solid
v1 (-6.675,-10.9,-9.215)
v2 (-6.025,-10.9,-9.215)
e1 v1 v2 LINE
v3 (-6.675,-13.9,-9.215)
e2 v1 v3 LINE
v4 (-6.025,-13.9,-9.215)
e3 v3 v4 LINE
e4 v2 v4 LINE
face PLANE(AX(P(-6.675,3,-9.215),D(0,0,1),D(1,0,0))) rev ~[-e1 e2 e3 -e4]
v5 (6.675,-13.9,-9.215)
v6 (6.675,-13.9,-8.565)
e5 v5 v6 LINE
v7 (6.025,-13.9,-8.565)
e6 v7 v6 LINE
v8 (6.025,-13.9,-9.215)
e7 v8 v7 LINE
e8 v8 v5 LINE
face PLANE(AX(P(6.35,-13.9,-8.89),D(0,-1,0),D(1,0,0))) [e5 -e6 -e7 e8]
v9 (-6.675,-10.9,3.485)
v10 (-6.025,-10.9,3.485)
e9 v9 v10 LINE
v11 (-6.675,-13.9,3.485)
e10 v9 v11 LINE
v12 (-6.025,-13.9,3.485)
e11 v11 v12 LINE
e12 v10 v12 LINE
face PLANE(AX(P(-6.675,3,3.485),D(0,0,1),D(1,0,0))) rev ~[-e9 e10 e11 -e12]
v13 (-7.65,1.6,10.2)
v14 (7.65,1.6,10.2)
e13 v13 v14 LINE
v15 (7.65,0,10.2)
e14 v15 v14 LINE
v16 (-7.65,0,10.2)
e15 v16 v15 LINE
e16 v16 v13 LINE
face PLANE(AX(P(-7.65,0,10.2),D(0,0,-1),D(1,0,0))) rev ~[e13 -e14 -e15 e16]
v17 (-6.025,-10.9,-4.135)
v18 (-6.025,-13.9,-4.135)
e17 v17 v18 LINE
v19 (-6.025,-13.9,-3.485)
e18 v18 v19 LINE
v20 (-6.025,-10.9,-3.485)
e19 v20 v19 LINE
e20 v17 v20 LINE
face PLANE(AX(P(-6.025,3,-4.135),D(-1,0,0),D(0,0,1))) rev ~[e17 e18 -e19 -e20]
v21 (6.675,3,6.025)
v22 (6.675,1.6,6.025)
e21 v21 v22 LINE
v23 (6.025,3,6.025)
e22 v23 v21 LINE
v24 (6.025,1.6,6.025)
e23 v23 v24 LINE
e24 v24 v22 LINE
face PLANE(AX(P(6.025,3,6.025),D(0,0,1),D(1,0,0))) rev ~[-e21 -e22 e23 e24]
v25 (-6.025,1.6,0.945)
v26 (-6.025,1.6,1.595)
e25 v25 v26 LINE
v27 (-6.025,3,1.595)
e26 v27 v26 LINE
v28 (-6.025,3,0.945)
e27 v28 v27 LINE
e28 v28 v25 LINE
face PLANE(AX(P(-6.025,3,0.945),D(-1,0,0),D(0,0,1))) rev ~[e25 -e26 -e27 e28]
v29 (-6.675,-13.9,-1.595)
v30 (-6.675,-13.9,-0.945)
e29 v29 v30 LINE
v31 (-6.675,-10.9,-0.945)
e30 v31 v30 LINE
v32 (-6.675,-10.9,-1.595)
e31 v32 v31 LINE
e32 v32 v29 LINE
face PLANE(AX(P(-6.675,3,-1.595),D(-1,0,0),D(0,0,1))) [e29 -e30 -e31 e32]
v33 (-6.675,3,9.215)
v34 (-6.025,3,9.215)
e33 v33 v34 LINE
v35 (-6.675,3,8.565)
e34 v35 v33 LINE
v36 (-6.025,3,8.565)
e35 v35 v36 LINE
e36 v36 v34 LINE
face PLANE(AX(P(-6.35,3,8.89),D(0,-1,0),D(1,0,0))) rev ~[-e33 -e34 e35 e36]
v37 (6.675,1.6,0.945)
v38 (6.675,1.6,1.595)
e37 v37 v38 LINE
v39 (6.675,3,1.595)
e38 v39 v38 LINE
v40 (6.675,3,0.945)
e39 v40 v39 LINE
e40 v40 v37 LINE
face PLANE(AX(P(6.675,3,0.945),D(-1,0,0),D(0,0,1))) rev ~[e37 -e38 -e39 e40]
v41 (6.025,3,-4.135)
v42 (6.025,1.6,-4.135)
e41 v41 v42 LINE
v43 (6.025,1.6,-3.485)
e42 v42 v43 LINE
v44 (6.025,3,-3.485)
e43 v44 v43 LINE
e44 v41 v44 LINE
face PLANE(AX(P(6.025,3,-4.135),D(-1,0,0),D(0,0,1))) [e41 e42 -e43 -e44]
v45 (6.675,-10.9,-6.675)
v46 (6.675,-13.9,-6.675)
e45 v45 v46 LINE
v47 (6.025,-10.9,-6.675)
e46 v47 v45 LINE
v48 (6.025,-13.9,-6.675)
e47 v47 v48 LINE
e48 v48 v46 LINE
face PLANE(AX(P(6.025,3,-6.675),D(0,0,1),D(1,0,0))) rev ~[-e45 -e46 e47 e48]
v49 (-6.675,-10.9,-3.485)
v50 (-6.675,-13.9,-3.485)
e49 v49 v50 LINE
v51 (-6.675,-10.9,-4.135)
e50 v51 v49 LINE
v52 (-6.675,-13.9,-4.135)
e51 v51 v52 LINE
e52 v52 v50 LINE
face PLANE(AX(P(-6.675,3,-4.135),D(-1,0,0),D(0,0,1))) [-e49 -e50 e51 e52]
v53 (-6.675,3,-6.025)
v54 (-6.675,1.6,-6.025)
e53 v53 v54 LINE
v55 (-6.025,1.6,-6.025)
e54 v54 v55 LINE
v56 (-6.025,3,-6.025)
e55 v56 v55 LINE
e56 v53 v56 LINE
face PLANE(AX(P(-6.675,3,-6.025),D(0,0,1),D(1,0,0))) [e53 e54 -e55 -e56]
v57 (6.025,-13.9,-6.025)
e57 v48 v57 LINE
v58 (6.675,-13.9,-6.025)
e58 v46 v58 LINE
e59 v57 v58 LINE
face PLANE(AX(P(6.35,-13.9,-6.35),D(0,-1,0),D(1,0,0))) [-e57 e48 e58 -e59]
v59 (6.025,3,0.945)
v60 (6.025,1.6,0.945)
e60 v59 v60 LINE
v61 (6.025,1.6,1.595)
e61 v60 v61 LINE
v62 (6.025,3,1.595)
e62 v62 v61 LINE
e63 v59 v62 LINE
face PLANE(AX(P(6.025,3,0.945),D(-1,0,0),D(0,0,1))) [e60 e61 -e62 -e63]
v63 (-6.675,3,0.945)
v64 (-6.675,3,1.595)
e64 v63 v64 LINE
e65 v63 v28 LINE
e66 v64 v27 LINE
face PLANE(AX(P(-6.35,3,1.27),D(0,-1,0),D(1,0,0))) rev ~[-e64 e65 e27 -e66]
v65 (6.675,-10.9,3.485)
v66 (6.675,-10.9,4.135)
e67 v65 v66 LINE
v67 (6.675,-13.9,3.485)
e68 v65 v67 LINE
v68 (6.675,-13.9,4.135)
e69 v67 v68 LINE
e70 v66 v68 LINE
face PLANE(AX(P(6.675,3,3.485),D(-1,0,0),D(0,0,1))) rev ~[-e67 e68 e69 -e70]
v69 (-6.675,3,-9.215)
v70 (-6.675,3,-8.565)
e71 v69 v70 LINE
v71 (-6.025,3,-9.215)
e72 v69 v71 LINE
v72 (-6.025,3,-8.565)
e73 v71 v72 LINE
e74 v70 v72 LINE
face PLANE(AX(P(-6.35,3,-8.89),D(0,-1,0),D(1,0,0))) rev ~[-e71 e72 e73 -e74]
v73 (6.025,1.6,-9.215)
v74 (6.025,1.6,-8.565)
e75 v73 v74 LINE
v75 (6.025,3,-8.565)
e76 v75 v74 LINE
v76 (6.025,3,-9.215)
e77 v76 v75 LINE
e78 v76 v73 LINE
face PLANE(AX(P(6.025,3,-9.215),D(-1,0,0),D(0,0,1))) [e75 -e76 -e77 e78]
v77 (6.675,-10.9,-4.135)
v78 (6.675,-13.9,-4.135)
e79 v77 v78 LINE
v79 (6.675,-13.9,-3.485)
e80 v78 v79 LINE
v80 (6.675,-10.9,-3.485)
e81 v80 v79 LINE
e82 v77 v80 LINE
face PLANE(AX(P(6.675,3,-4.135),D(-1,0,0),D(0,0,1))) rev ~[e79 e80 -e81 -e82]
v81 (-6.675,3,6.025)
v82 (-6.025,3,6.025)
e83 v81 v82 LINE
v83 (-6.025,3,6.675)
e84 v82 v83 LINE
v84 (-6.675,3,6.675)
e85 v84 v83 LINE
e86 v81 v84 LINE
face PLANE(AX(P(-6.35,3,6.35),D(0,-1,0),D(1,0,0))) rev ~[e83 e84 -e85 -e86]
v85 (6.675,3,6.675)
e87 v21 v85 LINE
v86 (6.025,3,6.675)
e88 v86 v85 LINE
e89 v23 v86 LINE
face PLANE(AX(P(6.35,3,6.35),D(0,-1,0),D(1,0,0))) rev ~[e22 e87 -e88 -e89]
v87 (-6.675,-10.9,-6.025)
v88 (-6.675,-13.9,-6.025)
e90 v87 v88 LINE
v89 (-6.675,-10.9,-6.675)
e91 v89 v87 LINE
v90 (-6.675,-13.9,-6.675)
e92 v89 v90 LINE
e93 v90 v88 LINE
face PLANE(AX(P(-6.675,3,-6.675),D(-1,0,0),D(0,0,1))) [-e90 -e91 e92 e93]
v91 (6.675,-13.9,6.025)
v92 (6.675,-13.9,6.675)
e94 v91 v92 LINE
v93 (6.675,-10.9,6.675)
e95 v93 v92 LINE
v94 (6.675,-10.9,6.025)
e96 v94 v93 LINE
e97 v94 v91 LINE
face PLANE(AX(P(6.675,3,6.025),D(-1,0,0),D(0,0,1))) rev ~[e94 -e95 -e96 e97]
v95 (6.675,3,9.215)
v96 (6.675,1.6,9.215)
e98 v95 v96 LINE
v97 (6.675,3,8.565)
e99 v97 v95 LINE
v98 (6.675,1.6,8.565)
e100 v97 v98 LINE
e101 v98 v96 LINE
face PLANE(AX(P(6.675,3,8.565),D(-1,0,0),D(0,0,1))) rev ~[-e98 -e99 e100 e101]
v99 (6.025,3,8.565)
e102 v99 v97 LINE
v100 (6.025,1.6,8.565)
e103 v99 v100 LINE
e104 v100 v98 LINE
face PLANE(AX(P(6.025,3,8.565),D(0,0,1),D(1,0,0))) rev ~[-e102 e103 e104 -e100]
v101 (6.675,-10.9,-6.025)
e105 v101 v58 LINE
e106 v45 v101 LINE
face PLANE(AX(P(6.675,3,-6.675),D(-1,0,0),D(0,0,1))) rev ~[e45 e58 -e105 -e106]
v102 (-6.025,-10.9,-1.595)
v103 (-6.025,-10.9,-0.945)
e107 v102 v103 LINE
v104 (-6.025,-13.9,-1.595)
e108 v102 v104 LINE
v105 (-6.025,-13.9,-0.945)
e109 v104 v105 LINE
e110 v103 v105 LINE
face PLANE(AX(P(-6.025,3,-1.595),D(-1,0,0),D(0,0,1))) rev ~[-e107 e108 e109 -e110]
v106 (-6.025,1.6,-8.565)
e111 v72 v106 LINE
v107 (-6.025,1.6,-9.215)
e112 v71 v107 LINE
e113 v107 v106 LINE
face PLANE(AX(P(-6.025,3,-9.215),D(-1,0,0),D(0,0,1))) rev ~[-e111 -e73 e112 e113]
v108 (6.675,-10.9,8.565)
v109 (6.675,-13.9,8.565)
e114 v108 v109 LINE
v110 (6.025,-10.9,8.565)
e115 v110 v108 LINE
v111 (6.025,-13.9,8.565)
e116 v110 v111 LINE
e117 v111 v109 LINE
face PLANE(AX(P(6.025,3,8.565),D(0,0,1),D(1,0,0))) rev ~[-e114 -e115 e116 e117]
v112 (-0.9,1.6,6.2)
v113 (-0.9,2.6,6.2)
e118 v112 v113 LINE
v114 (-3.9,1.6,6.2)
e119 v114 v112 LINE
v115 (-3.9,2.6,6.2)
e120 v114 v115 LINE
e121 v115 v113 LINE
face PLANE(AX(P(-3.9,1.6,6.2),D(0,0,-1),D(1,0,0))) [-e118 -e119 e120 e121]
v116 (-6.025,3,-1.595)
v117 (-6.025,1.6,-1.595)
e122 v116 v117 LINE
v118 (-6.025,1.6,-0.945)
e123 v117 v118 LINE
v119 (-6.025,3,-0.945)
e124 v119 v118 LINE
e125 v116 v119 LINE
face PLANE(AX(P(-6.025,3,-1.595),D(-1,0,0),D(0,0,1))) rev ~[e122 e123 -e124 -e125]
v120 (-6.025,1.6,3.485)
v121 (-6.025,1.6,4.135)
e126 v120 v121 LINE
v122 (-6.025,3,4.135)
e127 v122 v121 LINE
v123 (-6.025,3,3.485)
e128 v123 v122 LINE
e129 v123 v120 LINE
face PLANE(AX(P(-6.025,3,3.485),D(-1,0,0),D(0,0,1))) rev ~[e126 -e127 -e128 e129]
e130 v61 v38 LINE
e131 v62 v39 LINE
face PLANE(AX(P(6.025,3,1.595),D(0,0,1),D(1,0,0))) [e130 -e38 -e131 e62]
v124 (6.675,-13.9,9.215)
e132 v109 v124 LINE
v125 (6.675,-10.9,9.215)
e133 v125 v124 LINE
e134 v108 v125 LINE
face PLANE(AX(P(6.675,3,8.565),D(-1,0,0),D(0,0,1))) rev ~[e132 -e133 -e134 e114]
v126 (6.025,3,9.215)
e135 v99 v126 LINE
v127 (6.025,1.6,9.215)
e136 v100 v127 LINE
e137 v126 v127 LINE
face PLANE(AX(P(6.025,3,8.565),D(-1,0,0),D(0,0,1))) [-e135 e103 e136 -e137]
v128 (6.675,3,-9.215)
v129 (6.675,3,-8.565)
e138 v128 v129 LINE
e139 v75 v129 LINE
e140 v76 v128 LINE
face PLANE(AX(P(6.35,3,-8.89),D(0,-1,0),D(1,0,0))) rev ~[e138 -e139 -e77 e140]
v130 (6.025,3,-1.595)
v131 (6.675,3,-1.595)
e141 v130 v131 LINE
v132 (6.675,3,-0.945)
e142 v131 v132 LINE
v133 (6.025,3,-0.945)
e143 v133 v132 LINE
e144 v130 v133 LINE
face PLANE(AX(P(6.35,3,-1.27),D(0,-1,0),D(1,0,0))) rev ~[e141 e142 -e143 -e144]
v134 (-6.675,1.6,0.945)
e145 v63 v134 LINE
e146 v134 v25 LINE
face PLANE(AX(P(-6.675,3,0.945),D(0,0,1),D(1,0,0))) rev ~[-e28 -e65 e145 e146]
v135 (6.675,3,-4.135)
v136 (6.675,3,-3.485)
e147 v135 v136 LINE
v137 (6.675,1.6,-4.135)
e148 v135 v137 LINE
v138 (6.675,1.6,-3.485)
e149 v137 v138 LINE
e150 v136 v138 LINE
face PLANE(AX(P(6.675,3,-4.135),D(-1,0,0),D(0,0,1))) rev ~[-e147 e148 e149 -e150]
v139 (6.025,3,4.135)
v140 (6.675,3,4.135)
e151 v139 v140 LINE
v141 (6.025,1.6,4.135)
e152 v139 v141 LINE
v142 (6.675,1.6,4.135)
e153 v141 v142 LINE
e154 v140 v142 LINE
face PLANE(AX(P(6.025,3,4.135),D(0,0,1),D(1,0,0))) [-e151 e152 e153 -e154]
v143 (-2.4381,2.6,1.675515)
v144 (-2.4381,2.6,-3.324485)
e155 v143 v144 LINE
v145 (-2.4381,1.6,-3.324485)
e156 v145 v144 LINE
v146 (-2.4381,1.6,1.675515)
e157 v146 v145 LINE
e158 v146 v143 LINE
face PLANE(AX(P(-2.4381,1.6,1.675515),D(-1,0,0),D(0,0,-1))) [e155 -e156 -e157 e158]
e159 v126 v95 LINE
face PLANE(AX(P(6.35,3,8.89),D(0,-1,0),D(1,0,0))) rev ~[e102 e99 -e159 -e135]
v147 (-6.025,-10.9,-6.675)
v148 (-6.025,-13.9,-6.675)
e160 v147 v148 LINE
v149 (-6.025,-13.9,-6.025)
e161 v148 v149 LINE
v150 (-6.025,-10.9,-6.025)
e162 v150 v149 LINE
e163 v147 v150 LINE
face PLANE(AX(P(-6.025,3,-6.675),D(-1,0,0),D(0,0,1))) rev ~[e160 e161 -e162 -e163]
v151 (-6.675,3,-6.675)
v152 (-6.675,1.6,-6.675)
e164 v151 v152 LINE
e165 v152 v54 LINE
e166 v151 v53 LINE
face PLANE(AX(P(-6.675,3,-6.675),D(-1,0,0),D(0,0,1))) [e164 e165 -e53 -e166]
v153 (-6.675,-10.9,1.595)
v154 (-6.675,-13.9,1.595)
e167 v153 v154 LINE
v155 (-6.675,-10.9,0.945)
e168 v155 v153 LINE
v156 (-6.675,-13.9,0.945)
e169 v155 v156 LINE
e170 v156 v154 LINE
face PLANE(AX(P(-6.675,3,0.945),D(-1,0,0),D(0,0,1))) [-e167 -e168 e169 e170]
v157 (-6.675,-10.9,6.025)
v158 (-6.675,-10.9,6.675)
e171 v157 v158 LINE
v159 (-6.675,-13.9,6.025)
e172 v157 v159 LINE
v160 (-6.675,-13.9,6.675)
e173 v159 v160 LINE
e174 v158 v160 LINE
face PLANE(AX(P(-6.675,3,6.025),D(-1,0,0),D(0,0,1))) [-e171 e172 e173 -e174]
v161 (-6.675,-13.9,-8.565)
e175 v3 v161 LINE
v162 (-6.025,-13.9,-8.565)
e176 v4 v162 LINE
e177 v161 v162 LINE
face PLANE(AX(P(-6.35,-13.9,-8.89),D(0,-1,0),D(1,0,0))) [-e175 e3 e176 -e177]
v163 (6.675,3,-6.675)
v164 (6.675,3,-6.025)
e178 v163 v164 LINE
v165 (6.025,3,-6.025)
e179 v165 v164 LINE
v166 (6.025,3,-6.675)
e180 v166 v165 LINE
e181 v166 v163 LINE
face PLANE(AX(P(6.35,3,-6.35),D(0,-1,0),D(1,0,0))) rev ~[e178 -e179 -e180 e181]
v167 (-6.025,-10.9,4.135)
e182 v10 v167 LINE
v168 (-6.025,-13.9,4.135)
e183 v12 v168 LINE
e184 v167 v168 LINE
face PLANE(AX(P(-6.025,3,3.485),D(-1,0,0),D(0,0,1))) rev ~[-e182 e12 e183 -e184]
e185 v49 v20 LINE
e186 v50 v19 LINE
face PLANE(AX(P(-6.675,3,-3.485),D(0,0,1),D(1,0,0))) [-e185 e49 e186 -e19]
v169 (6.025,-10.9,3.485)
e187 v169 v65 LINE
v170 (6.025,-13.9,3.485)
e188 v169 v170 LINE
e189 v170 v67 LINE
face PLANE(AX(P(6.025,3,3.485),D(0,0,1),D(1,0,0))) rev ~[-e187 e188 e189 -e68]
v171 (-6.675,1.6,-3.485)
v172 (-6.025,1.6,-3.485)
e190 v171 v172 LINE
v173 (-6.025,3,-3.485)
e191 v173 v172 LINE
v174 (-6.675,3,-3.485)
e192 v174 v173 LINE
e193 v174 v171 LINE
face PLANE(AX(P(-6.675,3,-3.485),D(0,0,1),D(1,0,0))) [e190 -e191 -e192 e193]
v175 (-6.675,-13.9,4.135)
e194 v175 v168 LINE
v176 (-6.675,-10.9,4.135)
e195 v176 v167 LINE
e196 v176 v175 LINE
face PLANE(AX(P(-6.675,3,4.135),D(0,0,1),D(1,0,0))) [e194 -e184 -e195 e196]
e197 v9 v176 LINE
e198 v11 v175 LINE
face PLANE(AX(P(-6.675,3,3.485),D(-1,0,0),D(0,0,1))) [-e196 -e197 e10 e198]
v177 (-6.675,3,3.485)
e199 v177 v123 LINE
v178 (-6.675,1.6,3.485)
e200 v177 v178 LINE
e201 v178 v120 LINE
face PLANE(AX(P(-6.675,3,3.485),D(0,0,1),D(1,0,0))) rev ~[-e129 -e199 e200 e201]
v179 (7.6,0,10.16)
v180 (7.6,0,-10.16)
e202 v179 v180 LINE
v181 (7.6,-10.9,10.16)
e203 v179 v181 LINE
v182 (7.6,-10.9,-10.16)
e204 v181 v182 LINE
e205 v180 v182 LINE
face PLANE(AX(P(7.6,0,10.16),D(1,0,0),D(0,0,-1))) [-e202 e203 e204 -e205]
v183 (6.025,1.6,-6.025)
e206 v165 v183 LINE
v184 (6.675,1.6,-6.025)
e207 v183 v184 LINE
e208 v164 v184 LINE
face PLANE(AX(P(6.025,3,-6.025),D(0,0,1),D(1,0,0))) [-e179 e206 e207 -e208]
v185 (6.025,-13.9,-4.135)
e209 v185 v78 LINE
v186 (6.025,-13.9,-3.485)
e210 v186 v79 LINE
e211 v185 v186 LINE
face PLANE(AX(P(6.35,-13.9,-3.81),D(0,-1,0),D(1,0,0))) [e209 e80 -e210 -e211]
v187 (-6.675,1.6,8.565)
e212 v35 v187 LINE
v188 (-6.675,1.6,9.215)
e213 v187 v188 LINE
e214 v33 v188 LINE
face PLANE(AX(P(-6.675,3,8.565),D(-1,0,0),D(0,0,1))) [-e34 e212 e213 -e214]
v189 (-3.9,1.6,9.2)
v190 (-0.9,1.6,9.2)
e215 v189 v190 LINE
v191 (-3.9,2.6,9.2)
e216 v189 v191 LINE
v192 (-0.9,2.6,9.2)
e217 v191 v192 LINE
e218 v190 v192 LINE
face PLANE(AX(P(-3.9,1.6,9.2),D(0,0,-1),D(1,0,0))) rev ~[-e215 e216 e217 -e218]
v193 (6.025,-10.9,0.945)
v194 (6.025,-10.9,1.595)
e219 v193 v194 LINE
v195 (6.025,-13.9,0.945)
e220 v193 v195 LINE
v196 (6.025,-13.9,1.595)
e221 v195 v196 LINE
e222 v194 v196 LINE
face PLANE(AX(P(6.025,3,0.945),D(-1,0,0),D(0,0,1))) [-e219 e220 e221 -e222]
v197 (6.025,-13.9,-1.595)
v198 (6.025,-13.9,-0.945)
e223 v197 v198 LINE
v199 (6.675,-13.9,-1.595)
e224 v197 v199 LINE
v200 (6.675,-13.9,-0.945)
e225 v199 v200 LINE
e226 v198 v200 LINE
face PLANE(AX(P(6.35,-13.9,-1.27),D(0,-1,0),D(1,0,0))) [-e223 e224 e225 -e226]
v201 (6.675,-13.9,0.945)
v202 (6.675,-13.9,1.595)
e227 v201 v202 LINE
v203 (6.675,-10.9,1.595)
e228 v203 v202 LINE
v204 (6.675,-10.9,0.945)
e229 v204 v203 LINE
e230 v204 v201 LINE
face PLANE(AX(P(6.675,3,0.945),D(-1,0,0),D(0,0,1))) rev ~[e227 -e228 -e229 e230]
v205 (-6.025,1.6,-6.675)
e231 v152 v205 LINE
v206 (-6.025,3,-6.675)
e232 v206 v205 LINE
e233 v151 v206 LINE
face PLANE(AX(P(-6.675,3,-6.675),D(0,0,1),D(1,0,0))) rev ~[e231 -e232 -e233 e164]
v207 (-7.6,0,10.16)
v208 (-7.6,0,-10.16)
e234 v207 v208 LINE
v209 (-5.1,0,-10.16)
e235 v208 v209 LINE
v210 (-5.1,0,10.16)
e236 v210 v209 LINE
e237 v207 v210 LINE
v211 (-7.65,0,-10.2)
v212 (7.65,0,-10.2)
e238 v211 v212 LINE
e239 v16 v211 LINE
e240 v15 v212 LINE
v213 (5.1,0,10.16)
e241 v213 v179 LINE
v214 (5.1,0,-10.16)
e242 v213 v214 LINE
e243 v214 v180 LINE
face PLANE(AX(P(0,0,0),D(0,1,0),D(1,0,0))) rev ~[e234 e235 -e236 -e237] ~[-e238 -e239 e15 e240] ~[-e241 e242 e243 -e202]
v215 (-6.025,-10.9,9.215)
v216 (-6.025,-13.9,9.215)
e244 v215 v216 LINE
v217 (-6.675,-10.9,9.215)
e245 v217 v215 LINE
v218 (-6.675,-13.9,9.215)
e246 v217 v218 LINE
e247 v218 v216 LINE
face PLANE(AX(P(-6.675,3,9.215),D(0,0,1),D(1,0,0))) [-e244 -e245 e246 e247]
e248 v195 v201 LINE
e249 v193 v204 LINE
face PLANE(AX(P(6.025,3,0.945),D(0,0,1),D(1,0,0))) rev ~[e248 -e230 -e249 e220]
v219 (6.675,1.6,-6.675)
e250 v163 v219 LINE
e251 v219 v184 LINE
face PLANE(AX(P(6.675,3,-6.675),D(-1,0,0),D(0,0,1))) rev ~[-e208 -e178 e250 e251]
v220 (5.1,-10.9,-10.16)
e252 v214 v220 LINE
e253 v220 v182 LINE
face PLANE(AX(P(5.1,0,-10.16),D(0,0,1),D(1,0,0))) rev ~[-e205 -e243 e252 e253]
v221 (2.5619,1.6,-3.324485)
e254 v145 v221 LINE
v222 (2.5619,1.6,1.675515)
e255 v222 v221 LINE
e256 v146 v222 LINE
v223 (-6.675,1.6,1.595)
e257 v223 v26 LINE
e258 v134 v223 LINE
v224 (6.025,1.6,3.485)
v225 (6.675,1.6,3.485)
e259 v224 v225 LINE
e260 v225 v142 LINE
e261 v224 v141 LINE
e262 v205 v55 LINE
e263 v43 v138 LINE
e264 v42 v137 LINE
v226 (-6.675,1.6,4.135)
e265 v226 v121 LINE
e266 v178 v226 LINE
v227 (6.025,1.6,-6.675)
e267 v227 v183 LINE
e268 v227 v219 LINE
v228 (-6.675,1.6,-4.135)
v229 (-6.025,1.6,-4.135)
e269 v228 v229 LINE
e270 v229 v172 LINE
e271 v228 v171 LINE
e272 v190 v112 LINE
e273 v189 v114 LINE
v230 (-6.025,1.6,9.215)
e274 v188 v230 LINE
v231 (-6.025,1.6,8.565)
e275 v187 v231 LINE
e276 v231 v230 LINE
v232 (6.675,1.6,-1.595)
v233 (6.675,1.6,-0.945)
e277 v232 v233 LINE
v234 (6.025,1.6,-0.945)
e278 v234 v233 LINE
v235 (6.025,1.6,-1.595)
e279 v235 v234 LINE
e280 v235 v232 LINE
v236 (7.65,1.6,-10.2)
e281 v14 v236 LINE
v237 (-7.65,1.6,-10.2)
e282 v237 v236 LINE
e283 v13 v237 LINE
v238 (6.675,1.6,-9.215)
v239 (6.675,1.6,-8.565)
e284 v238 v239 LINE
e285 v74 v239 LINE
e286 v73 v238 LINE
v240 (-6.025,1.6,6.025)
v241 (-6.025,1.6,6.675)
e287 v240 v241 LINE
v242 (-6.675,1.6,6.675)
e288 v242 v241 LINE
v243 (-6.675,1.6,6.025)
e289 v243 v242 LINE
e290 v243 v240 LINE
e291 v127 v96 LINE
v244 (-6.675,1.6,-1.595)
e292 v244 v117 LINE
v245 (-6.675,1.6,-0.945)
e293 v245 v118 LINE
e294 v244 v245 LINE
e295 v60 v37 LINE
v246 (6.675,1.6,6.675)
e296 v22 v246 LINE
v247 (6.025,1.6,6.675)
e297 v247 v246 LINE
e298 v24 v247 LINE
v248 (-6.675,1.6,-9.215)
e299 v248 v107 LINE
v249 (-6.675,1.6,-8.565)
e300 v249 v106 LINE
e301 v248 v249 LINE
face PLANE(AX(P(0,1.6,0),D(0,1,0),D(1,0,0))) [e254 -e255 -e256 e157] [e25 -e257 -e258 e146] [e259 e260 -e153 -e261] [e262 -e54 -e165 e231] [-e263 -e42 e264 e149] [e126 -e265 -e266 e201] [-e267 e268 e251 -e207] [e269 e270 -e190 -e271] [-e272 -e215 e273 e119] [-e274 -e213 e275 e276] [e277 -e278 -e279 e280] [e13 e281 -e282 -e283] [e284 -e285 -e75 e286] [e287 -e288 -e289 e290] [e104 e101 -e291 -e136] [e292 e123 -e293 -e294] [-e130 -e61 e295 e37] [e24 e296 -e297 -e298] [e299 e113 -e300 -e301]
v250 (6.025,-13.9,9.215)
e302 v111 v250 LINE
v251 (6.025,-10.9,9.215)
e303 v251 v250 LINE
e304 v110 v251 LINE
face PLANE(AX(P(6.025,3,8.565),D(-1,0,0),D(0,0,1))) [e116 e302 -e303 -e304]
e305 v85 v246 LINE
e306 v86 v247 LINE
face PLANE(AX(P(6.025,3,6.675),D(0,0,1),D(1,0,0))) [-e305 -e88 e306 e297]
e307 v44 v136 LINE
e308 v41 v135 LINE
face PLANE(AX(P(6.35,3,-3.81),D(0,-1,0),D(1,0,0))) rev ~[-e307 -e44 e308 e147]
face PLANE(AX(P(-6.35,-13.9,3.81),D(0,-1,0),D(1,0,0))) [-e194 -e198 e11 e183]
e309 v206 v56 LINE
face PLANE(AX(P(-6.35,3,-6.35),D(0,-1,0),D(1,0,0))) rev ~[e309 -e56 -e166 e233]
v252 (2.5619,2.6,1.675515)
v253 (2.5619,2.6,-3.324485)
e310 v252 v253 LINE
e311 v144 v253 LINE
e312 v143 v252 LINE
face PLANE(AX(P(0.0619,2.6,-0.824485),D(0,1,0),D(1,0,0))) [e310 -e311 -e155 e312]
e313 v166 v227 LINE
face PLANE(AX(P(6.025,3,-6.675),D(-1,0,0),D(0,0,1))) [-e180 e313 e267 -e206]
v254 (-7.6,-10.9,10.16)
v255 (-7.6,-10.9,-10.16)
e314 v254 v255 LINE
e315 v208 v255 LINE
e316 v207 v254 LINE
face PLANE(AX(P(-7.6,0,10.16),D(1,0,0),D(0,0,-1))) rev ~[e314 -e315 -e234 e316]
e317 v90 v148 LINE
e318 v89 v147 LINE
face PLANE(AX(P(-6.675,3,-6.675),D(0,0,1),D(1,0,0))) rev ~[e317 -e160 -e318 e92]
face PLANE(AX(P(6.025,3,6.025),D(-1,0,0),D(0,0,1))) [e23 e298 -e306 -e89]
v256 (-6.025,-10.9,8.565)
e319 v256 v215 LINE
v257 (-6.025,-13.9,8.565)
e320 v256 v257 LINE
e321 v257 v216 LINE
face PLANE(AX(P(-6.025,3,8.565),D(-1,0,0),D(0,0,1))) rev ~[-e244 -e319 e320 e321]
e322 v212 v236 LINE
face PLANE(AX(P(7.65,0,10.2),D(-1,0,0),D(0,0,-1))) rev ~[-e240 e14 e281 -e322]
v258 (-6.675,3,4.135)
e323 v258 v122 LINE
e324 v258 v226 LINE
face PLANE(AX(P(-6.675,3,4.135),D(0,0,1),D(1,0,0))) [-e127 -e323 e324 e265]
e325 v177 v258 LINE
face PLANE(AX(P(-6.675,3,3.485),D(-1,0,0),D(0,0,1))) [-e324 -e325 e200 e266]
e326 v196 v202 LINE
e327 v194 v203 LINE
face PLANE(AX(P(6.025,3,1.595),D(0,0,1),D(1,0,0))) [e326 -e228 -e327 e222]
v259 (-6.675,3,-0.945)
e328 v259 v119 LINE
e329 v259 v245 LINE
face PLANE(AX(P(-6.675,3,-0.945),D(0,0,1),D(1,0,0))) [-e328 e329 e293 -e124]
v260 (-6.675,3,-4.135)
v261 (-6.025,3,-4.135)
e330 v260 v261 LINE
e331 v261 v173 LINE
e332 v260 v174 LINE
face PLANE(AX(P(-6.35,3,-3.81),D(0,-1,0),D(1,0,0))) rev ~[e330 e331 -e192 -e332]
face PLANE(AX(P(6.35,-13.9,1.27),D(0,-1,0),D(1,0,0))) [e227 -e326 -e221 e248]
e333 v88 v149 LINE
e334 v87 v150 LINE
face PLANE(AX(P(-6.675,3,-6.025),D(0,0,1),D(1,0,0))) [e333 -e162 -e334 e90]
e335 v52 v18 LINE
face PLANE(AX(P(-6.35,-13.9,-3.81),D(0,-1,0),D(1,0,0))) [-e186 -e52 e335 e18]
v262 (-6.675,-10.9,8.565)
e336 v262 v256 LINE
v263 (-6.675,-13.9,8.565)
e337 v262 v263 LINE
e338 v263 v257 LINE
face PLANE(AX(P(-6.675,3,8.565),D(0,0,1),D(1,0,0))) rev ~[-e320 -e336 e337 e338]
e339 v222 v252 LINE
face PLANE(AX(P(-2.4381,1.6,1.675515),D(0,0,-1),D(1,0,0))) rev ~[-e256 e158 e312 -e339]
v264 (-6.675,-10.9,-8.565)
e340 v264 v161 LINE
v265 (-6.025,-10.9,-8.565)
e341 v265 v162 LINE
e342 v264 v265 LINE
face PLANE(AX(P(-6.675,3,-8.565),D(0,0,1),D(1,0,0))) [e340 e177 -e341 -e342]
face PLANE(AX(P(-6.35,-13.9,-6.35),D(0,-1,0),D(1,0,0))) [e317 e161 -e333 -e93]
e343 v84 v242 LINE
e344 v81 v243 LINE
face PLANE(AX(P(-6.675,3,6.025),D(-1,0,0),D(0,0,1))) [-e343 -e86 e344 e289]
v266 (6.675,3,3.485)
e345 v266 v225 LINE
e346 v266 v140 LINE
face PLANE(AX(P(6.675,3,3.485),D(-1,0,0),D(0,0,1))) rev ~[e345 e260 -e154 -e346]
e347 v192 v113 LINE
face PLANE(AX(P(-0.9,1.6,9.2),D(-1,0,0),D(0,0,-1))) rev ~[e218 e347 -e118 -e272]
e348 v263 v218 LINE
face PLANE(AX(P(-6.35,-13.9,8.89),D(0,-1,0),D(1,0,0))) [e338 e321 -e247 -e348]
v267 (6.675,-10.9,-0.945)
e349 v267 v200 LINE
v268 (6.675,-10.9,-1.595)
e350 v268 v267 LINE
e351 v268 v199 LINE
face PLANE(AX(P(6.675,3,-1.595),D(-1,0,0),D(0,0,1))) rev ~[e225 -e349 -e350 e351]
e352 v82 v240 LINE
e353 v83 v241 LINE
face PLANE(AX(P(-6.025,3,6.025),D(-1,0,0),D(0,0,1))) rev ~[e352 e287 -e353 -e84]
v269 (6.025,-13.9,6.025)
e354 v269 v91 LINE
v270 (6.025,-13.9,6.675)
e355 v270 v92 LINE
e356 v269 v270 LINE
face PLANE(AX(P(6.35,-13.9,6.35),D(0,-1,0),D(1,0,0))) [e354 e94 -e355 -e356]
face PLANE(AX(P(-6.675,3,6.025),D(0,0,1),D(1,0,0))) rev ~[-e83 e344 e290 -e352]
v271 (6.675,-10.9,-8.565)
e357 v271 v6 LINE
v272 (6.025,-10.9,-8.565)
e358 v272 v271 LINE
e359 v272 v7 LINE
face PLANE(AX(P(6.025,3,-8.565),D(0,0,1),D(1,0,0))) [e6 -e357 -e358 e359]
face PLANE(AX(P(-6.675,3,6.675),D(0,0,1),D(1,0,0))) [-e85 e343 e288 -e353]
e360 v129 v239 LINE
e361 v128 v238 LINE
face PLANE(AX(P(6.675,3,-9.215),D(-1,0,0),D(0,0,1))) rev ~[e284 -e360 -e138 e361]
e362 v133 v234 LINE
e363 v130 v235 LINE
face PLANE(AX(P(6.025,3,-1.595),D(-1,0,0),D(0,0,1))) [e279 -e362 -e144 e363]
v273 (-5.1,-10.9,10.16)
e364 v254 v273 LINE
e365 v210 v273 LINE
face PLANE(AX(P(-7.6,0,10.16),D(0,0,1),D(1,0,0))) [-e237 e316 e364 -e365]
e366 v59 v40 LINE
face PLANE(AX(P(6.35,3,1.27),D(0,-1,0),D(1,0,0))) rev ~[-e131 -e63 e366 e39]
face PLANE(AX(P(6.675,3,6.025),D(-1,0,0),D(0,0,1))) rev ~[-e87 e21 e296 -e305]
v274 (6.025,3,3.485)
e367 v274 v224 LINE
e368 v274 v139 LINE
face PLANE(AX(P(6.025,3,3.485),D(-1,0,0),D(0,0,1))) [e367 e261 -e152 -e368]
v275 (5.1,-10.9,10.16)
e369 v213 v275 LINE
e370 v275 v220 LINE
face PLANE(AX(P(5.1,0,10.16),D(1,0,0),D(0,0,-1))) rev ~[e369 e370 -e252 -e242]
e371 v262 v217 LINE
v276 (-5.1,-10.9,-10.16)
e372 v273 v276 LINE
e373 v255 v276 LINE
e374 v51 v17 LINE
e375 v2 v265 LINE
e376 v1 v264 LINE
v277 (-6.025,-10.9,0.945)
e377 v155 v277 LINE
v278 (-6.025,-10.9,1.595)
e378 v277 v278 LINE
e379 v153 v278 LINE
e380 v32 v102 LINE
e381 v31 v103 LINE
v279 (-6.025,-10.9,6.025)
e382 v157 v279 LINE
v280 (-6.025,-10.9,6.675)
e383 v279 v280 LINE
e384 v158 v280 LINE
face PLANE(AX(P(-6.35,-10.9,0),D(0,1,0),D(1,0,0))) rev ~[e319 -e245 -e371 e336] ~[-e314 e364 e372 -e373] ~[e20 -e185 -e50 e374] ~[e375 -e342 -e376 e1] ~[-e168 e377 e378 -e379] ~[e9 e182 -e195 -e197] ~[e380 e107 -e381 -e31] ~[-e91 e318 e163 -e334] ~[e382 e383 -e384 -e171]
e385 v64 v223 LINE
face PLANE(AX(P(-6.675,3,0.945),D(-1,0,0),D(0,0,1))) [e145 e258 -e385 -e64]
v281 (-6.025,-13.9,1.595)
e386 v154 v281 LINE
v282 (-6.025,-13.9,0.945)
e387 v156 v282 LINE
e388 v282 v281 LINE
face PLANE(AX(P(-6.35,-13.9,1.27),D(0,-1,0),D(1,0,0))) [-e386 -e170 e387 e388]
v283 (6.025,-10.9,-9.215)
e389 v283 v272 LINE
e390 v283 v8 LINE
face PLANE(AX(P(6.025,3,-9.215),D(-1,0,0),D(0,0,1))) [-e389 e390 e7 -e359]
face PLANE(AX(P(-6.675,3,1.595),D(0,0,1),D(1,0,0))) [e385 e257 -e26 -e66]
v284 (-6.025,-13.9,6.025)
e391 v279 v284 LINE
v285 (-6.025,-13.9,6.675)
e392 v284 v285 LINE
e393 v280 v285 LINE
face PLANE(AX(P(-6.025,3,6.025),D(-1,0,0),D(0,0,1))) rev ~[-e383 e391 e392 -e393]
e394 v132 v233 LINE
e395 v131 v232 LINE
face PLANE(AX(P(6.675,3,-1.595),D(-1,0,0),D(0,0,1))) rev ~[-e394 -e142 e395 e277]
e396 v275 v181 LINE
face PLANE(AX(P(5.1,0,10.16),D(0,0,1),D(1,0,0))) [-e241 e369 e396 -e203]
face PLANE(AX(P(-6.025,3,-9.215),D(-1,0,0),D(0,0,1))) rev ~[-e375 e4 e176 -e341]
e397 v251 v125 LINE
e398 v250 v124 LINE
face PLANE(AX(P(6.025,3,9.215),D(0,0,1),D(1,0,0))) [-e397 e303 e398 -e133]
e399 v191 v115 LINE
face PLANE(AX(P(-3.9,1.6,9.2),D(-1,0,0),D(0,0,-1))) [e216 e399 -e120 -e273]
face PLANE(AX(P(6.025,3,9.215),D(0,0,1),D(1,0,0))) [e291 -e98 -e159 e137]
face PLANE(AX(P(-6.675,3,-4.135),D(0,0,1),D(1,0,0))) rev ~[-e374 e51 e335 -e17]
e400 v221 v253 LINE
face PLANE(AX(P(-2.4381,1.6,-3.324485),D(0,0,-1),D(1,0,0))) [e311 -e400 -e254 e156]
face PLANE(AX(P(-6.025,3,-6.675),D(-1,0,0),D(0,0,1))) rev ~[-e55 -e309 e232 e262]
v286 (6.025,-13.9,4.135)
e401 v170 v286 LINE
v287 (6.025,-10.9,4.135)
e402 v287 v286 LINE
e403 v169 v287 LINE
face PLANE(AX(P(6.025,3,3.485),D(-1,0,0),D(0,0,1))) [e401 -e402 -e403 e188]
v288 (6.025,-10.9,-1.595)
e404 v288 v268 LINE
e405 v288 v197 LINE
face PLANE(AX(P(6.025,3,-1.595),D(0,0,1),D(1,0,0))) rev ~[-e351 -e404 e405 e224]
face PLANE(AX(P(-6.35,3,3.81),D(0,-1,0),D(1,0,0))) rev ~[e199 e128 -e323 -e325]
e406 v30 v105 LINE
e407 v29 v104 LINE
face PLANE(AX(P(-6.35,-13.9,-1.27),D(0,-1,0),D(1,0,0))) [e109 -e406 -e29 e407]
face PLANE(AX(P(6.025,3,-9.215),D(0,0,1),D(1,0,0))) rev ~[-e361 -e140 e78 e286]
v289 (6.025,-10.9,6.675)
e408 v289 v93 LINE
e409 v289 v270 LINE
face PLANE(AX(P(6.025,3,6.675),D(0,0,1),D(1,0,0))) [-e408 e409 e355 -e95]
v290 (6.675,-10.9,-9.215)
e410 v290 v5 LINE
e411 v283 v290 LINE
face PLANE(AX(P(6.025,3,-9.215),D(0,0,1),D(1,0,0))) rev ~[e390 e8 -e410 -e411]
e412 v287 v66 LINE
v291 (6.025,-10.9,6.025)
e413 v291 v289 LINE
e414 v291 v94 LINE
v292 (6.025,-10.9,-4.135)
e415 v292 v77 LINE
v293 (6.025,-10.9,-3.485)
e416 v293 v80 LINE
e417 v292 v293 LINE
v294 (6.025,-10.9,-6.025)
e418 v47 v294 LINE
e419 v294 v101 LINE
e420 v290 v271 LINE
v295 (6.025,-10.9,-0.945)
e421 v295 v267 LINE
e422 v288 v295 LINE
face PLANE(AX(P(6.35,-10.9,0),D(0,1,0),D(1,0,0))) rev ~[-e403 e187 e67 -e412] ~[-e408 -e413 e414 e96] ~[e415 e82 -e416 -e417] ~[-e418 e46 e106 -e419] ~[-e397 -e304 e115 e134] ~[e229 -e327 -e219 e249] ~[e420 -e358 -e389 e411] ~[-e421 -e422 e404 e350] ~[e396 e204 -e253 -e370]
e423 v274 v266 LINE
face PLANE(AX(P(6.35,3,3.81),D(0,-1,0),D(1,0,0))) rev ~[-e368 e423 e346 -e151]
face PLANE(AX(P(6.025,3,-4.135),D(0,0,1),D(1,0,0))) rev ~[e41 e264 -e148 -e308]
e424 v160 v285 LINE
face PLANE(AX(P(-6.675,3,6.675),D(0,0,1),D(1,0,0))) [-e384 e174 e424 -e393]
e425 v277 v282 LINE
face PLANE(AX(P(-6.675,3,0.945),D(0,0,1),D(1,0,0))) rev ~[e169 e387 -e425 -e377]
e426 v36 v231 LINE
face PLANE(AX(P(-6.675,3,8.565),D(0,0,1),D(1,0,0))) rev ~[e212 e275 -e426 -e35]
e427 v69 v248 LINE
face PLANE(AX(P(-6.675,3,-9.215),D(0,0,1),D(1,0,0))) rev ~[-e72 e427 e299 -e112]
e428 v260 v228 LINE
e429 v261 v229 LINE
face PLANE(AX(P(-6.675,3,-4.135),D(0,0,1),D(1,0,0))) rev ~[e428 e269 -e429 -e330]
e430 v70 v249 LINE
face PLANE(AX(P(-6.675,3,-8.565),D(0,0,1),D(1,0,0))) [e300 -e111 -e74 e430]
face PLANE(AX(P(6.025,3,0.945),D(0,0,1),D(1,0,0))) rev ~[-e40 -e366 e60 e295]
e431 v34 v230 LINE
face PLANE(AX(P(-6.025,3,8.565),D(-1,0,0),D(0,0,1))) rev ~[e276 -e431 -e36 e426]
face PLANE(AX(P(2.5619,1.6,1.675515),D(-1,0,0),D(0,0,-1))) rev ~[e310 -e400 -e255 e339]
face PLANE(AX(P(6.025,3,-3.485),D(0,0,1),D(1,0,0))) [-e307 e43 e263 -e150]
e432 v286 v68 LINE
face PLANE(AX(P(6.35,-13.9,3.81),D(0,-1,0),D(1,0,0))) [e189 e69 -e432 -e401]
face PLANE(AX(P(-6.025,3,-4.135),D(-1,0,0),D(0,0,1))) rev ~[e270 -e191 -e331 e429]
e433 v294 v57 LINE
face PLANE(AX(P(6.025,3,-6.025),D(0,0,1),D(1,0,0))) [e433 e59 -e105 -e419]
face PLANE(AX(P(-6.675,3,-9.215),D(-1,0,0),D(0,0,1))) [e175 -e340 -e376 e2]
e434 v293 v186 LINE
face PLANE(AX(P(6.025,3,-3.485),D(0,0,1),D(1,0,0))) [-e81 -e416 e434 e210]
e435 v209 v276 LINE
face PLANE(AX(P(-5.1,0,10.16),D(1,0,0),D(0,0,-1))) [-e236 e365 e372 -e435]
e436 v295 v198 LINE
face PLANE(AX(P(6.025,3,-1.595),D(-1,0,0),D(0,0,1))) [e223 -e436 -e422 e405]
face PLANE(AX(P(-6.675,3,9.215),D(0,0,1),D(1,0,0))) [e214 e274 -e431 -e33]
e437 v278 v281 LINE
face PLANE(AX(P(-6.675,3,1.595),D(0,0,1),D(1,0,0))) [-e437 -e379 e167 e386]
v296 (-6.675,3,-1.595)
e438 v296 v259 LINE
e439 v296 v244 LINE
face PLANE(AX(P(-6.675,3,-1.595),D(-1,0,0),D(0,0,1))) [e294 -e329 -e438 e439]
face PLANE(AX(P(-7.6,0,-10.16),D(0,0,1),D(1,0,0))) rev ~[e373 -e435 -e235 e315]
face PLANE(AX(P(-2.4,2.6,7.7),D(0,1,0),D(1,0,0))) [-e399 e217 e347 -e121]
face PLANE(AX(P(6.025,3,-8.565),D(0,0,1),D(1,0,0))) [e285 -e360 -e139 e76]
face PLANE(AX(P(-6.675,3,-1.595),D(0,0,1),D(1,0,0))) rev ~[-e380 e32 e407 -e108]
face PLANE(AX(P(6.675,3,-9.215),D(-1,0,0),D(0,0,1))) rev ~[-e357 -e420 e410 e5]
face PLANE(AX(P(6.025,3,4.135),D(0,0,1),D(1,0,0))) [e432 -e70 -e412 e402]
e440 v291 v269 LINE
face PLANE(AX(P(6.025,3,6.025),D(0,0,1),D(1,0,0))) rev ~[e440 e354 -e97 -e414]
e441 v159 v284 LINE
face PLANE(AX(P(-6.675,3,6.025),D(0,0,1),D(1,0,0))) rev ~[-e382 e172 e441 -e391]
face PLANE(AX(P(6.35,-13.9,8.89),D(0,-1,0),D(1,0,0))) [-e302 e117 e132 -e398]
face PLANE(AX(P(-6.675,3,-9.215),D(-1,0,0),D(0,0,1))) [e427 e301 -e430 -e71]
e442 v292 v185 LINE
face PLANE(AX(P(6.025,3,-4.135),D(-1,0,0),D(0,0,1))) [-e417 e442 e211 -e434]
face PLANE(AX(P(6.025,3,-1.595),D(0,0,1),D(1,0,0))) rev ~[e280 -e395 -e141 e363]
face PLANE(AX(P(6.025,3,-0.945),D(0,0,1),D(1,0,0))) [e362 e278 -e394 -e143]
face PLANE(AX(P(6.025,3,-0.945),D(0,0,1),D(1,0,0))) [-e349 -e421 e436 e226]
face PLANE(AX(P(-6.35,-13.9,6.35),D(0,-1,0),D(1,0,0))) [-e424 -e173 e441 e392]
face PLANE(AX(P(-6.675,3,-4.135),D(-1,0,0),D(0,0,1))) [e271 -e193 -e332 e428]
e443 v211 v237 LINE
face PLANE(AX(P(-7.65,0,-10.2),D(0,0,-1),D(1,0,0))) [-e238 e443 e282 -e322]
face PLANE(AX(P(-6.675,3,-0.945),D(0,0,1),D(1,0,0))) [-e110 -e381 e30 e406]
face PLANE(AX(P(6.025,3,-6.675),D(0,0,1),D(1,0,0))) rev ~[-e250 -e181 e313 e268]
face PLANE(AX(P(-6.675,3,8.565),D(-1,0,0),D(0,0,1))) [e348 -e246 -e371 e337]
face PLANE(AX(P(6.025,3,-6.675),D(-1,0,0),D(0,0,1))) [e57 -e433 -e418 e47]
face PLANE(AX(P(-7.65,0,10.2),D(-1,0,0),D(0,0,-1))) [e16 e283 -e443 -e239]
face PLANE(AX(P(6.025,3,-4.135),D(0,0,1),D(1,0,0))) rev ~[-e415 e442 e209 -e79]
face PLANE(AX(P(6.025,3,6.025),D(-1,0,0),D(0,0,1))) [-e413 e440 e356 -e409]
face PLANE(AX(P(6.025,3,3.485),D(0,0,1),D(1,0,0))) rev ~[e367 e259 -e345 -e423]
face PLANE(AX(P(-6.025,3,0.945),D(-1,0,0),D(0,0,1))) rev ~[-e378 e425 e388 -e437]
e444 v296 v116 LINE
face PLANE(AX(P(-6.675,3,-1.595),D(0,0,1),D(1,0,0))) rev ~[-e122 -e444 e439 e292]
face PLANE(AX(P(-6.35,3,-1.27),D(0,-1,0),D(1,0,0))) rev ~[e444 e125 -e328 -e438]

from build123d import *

# Parameters (mm, degrees)
ESQUISSE1_W             = 15.3
ESQUISSE1_H             = 20.4
BOSS_EXTRU_1_DEPTH      = 1.6
ESQUISSE2_W             = 2.5
ESQUISSE2_H             = 20.32
BOSS_EXTRU_2_DEPTH      = 10.9
BOSS_EXTRU_3_DEPTH      = 3
BOSS_EXTRU_3_DEPTH_BACK = 13.9
ESQUISSE3_W             = 0.65
ESQUISSE3_H             = 0.65
ESQUISSE4_W             = 5
ESQUISSE4_H             = 5
ESQUISSE4_W_2           = 3
ESQUISSE4_H_2           = 3
BOSS_EXTRU_4_DEPTH      = 1


with BuildPart() as part:
    # Esquisse1 → Boss.-Extru.1 (new body)
    with BuildSketch(Plane(origin=(0, 0, 0), x_dir=(1, 0, 0), z_dir=(0, 1, 0))):
        Rectangle(ESQUISSE1_W, ESQUISSE1_H)
    extrude(amount=BOSS_EXTRU_1_DEPTH)

    # Esquisse2 → Boss.-Extru.2 (add)
    with BuildSketch(Plane(origin=(0, 0, 0), x_dir=(1, 0, 0), z_dir=(0, 1, 0))):
        with Locations((-6.35, 0)):
            Rectangle(ESQUISSE2_W, ESQUISSE2_H)
        with Locations((6.35, 0)):
            Rectangle(ESQUISSE2_W, ESQUISSE2_H)
    extrude(amount=-BOSS_EXTRU_2_DEPTH)

    # Esquisse3 → Boss.-Extru.3 (add, two sides: drawn at the far end of the back side and taken through both)
    with BuildSketch(Plane.XZ.offset(10.9).offset(-BOSS_EXTRU_3_DEPTH_BACK)):
        with Locations((-6.35, 1.27)):
            Rectangle(ESQUISSE3_W, ESQUISSE3_H)
        with Locations((-6.35, -1.27)):
            Rectangle(ESQUISSE3_W, ESQUISSE3_H)
        with Locations((-6.35, 3.81)):
            Rectangle(ESQUISSE3_W, ESQUISSE3_H)
        with Locations((-6.35, 6.35)):
            Rectangle(ESQUISSE3_W, ESQUISSE3_H)
        with Locations((-6.35, 8.89)):
            Rectangle(ESQUISSE3_W, ESQUISSE3_H)
        with Locations((-6.35, -8.89)):
            Rectangle(ESQUISSE3_W, ESQUISSE3_H)
        with Locations((-6.35, -6.35)):
            Rectangle(ESQUISSE3_W, ESQUISSE3_H)
        with Locations((-6.35, -3.81)):
            Rectangle(ESQUISSE3_W, ESQUISSE3_H)
        with Locations((6.35, -8.89)):
            Rectangle(ESQUISSE3_W, ESQUISSE3_H)
        with Locations((6.35, -6.35)):
            Rectangle(ESQUISSE3_W, ESQUISSE3_H)
        with Locations((6.35, -3.81)):
            Rectangle(ESQUISSE3_W, ESQUISSE3_H)
        with Locations((6.35, 1.27)):
            Rectangle(ESQUISSE3_W, ESQUISSE3_H)
        with Locations((6.35, -1.27)):
            Rectangle(ESQUISSE3_W, ESQUISSE3_H)
        with Locations((6.35, 3.81)):
            Rectangle(ESQUISSE3_W, ESQUISSE3_H)
        with Locations((6.35, 6.35)):
            Rectangle(ESQUISSE3_W, ESQUISSE3_H)
        with Locations((6.35, 8.89)):
            Rectangle(ESQUISSE3_W, ESQUISSE3_H)
    extrude(amount=BOSS_EXTRU_3_DEPTH + BOSS_EXTRU_3_DEPTH_BACK)

    # Esquisse4 → Boss.-Extru.4 (add)
    with BuildSketch(Plane(origin=(0, 1.6, 0), x_dir=(1, 0, 0), z_dir=(0, 1, 0))):
        with Locations((0.061900131, 0.824485309)):
            Rectangle(ESQUISSE4_W, ESQUISSE4_H)
        with Locations((-2.4, -7.7)):
            Rectangle(ESQUISSE4_W_2, ESQUISSE4_H_2)
    extrude(amount=BOSS_EXTRU_4_DEPTH)


solid = part.part
